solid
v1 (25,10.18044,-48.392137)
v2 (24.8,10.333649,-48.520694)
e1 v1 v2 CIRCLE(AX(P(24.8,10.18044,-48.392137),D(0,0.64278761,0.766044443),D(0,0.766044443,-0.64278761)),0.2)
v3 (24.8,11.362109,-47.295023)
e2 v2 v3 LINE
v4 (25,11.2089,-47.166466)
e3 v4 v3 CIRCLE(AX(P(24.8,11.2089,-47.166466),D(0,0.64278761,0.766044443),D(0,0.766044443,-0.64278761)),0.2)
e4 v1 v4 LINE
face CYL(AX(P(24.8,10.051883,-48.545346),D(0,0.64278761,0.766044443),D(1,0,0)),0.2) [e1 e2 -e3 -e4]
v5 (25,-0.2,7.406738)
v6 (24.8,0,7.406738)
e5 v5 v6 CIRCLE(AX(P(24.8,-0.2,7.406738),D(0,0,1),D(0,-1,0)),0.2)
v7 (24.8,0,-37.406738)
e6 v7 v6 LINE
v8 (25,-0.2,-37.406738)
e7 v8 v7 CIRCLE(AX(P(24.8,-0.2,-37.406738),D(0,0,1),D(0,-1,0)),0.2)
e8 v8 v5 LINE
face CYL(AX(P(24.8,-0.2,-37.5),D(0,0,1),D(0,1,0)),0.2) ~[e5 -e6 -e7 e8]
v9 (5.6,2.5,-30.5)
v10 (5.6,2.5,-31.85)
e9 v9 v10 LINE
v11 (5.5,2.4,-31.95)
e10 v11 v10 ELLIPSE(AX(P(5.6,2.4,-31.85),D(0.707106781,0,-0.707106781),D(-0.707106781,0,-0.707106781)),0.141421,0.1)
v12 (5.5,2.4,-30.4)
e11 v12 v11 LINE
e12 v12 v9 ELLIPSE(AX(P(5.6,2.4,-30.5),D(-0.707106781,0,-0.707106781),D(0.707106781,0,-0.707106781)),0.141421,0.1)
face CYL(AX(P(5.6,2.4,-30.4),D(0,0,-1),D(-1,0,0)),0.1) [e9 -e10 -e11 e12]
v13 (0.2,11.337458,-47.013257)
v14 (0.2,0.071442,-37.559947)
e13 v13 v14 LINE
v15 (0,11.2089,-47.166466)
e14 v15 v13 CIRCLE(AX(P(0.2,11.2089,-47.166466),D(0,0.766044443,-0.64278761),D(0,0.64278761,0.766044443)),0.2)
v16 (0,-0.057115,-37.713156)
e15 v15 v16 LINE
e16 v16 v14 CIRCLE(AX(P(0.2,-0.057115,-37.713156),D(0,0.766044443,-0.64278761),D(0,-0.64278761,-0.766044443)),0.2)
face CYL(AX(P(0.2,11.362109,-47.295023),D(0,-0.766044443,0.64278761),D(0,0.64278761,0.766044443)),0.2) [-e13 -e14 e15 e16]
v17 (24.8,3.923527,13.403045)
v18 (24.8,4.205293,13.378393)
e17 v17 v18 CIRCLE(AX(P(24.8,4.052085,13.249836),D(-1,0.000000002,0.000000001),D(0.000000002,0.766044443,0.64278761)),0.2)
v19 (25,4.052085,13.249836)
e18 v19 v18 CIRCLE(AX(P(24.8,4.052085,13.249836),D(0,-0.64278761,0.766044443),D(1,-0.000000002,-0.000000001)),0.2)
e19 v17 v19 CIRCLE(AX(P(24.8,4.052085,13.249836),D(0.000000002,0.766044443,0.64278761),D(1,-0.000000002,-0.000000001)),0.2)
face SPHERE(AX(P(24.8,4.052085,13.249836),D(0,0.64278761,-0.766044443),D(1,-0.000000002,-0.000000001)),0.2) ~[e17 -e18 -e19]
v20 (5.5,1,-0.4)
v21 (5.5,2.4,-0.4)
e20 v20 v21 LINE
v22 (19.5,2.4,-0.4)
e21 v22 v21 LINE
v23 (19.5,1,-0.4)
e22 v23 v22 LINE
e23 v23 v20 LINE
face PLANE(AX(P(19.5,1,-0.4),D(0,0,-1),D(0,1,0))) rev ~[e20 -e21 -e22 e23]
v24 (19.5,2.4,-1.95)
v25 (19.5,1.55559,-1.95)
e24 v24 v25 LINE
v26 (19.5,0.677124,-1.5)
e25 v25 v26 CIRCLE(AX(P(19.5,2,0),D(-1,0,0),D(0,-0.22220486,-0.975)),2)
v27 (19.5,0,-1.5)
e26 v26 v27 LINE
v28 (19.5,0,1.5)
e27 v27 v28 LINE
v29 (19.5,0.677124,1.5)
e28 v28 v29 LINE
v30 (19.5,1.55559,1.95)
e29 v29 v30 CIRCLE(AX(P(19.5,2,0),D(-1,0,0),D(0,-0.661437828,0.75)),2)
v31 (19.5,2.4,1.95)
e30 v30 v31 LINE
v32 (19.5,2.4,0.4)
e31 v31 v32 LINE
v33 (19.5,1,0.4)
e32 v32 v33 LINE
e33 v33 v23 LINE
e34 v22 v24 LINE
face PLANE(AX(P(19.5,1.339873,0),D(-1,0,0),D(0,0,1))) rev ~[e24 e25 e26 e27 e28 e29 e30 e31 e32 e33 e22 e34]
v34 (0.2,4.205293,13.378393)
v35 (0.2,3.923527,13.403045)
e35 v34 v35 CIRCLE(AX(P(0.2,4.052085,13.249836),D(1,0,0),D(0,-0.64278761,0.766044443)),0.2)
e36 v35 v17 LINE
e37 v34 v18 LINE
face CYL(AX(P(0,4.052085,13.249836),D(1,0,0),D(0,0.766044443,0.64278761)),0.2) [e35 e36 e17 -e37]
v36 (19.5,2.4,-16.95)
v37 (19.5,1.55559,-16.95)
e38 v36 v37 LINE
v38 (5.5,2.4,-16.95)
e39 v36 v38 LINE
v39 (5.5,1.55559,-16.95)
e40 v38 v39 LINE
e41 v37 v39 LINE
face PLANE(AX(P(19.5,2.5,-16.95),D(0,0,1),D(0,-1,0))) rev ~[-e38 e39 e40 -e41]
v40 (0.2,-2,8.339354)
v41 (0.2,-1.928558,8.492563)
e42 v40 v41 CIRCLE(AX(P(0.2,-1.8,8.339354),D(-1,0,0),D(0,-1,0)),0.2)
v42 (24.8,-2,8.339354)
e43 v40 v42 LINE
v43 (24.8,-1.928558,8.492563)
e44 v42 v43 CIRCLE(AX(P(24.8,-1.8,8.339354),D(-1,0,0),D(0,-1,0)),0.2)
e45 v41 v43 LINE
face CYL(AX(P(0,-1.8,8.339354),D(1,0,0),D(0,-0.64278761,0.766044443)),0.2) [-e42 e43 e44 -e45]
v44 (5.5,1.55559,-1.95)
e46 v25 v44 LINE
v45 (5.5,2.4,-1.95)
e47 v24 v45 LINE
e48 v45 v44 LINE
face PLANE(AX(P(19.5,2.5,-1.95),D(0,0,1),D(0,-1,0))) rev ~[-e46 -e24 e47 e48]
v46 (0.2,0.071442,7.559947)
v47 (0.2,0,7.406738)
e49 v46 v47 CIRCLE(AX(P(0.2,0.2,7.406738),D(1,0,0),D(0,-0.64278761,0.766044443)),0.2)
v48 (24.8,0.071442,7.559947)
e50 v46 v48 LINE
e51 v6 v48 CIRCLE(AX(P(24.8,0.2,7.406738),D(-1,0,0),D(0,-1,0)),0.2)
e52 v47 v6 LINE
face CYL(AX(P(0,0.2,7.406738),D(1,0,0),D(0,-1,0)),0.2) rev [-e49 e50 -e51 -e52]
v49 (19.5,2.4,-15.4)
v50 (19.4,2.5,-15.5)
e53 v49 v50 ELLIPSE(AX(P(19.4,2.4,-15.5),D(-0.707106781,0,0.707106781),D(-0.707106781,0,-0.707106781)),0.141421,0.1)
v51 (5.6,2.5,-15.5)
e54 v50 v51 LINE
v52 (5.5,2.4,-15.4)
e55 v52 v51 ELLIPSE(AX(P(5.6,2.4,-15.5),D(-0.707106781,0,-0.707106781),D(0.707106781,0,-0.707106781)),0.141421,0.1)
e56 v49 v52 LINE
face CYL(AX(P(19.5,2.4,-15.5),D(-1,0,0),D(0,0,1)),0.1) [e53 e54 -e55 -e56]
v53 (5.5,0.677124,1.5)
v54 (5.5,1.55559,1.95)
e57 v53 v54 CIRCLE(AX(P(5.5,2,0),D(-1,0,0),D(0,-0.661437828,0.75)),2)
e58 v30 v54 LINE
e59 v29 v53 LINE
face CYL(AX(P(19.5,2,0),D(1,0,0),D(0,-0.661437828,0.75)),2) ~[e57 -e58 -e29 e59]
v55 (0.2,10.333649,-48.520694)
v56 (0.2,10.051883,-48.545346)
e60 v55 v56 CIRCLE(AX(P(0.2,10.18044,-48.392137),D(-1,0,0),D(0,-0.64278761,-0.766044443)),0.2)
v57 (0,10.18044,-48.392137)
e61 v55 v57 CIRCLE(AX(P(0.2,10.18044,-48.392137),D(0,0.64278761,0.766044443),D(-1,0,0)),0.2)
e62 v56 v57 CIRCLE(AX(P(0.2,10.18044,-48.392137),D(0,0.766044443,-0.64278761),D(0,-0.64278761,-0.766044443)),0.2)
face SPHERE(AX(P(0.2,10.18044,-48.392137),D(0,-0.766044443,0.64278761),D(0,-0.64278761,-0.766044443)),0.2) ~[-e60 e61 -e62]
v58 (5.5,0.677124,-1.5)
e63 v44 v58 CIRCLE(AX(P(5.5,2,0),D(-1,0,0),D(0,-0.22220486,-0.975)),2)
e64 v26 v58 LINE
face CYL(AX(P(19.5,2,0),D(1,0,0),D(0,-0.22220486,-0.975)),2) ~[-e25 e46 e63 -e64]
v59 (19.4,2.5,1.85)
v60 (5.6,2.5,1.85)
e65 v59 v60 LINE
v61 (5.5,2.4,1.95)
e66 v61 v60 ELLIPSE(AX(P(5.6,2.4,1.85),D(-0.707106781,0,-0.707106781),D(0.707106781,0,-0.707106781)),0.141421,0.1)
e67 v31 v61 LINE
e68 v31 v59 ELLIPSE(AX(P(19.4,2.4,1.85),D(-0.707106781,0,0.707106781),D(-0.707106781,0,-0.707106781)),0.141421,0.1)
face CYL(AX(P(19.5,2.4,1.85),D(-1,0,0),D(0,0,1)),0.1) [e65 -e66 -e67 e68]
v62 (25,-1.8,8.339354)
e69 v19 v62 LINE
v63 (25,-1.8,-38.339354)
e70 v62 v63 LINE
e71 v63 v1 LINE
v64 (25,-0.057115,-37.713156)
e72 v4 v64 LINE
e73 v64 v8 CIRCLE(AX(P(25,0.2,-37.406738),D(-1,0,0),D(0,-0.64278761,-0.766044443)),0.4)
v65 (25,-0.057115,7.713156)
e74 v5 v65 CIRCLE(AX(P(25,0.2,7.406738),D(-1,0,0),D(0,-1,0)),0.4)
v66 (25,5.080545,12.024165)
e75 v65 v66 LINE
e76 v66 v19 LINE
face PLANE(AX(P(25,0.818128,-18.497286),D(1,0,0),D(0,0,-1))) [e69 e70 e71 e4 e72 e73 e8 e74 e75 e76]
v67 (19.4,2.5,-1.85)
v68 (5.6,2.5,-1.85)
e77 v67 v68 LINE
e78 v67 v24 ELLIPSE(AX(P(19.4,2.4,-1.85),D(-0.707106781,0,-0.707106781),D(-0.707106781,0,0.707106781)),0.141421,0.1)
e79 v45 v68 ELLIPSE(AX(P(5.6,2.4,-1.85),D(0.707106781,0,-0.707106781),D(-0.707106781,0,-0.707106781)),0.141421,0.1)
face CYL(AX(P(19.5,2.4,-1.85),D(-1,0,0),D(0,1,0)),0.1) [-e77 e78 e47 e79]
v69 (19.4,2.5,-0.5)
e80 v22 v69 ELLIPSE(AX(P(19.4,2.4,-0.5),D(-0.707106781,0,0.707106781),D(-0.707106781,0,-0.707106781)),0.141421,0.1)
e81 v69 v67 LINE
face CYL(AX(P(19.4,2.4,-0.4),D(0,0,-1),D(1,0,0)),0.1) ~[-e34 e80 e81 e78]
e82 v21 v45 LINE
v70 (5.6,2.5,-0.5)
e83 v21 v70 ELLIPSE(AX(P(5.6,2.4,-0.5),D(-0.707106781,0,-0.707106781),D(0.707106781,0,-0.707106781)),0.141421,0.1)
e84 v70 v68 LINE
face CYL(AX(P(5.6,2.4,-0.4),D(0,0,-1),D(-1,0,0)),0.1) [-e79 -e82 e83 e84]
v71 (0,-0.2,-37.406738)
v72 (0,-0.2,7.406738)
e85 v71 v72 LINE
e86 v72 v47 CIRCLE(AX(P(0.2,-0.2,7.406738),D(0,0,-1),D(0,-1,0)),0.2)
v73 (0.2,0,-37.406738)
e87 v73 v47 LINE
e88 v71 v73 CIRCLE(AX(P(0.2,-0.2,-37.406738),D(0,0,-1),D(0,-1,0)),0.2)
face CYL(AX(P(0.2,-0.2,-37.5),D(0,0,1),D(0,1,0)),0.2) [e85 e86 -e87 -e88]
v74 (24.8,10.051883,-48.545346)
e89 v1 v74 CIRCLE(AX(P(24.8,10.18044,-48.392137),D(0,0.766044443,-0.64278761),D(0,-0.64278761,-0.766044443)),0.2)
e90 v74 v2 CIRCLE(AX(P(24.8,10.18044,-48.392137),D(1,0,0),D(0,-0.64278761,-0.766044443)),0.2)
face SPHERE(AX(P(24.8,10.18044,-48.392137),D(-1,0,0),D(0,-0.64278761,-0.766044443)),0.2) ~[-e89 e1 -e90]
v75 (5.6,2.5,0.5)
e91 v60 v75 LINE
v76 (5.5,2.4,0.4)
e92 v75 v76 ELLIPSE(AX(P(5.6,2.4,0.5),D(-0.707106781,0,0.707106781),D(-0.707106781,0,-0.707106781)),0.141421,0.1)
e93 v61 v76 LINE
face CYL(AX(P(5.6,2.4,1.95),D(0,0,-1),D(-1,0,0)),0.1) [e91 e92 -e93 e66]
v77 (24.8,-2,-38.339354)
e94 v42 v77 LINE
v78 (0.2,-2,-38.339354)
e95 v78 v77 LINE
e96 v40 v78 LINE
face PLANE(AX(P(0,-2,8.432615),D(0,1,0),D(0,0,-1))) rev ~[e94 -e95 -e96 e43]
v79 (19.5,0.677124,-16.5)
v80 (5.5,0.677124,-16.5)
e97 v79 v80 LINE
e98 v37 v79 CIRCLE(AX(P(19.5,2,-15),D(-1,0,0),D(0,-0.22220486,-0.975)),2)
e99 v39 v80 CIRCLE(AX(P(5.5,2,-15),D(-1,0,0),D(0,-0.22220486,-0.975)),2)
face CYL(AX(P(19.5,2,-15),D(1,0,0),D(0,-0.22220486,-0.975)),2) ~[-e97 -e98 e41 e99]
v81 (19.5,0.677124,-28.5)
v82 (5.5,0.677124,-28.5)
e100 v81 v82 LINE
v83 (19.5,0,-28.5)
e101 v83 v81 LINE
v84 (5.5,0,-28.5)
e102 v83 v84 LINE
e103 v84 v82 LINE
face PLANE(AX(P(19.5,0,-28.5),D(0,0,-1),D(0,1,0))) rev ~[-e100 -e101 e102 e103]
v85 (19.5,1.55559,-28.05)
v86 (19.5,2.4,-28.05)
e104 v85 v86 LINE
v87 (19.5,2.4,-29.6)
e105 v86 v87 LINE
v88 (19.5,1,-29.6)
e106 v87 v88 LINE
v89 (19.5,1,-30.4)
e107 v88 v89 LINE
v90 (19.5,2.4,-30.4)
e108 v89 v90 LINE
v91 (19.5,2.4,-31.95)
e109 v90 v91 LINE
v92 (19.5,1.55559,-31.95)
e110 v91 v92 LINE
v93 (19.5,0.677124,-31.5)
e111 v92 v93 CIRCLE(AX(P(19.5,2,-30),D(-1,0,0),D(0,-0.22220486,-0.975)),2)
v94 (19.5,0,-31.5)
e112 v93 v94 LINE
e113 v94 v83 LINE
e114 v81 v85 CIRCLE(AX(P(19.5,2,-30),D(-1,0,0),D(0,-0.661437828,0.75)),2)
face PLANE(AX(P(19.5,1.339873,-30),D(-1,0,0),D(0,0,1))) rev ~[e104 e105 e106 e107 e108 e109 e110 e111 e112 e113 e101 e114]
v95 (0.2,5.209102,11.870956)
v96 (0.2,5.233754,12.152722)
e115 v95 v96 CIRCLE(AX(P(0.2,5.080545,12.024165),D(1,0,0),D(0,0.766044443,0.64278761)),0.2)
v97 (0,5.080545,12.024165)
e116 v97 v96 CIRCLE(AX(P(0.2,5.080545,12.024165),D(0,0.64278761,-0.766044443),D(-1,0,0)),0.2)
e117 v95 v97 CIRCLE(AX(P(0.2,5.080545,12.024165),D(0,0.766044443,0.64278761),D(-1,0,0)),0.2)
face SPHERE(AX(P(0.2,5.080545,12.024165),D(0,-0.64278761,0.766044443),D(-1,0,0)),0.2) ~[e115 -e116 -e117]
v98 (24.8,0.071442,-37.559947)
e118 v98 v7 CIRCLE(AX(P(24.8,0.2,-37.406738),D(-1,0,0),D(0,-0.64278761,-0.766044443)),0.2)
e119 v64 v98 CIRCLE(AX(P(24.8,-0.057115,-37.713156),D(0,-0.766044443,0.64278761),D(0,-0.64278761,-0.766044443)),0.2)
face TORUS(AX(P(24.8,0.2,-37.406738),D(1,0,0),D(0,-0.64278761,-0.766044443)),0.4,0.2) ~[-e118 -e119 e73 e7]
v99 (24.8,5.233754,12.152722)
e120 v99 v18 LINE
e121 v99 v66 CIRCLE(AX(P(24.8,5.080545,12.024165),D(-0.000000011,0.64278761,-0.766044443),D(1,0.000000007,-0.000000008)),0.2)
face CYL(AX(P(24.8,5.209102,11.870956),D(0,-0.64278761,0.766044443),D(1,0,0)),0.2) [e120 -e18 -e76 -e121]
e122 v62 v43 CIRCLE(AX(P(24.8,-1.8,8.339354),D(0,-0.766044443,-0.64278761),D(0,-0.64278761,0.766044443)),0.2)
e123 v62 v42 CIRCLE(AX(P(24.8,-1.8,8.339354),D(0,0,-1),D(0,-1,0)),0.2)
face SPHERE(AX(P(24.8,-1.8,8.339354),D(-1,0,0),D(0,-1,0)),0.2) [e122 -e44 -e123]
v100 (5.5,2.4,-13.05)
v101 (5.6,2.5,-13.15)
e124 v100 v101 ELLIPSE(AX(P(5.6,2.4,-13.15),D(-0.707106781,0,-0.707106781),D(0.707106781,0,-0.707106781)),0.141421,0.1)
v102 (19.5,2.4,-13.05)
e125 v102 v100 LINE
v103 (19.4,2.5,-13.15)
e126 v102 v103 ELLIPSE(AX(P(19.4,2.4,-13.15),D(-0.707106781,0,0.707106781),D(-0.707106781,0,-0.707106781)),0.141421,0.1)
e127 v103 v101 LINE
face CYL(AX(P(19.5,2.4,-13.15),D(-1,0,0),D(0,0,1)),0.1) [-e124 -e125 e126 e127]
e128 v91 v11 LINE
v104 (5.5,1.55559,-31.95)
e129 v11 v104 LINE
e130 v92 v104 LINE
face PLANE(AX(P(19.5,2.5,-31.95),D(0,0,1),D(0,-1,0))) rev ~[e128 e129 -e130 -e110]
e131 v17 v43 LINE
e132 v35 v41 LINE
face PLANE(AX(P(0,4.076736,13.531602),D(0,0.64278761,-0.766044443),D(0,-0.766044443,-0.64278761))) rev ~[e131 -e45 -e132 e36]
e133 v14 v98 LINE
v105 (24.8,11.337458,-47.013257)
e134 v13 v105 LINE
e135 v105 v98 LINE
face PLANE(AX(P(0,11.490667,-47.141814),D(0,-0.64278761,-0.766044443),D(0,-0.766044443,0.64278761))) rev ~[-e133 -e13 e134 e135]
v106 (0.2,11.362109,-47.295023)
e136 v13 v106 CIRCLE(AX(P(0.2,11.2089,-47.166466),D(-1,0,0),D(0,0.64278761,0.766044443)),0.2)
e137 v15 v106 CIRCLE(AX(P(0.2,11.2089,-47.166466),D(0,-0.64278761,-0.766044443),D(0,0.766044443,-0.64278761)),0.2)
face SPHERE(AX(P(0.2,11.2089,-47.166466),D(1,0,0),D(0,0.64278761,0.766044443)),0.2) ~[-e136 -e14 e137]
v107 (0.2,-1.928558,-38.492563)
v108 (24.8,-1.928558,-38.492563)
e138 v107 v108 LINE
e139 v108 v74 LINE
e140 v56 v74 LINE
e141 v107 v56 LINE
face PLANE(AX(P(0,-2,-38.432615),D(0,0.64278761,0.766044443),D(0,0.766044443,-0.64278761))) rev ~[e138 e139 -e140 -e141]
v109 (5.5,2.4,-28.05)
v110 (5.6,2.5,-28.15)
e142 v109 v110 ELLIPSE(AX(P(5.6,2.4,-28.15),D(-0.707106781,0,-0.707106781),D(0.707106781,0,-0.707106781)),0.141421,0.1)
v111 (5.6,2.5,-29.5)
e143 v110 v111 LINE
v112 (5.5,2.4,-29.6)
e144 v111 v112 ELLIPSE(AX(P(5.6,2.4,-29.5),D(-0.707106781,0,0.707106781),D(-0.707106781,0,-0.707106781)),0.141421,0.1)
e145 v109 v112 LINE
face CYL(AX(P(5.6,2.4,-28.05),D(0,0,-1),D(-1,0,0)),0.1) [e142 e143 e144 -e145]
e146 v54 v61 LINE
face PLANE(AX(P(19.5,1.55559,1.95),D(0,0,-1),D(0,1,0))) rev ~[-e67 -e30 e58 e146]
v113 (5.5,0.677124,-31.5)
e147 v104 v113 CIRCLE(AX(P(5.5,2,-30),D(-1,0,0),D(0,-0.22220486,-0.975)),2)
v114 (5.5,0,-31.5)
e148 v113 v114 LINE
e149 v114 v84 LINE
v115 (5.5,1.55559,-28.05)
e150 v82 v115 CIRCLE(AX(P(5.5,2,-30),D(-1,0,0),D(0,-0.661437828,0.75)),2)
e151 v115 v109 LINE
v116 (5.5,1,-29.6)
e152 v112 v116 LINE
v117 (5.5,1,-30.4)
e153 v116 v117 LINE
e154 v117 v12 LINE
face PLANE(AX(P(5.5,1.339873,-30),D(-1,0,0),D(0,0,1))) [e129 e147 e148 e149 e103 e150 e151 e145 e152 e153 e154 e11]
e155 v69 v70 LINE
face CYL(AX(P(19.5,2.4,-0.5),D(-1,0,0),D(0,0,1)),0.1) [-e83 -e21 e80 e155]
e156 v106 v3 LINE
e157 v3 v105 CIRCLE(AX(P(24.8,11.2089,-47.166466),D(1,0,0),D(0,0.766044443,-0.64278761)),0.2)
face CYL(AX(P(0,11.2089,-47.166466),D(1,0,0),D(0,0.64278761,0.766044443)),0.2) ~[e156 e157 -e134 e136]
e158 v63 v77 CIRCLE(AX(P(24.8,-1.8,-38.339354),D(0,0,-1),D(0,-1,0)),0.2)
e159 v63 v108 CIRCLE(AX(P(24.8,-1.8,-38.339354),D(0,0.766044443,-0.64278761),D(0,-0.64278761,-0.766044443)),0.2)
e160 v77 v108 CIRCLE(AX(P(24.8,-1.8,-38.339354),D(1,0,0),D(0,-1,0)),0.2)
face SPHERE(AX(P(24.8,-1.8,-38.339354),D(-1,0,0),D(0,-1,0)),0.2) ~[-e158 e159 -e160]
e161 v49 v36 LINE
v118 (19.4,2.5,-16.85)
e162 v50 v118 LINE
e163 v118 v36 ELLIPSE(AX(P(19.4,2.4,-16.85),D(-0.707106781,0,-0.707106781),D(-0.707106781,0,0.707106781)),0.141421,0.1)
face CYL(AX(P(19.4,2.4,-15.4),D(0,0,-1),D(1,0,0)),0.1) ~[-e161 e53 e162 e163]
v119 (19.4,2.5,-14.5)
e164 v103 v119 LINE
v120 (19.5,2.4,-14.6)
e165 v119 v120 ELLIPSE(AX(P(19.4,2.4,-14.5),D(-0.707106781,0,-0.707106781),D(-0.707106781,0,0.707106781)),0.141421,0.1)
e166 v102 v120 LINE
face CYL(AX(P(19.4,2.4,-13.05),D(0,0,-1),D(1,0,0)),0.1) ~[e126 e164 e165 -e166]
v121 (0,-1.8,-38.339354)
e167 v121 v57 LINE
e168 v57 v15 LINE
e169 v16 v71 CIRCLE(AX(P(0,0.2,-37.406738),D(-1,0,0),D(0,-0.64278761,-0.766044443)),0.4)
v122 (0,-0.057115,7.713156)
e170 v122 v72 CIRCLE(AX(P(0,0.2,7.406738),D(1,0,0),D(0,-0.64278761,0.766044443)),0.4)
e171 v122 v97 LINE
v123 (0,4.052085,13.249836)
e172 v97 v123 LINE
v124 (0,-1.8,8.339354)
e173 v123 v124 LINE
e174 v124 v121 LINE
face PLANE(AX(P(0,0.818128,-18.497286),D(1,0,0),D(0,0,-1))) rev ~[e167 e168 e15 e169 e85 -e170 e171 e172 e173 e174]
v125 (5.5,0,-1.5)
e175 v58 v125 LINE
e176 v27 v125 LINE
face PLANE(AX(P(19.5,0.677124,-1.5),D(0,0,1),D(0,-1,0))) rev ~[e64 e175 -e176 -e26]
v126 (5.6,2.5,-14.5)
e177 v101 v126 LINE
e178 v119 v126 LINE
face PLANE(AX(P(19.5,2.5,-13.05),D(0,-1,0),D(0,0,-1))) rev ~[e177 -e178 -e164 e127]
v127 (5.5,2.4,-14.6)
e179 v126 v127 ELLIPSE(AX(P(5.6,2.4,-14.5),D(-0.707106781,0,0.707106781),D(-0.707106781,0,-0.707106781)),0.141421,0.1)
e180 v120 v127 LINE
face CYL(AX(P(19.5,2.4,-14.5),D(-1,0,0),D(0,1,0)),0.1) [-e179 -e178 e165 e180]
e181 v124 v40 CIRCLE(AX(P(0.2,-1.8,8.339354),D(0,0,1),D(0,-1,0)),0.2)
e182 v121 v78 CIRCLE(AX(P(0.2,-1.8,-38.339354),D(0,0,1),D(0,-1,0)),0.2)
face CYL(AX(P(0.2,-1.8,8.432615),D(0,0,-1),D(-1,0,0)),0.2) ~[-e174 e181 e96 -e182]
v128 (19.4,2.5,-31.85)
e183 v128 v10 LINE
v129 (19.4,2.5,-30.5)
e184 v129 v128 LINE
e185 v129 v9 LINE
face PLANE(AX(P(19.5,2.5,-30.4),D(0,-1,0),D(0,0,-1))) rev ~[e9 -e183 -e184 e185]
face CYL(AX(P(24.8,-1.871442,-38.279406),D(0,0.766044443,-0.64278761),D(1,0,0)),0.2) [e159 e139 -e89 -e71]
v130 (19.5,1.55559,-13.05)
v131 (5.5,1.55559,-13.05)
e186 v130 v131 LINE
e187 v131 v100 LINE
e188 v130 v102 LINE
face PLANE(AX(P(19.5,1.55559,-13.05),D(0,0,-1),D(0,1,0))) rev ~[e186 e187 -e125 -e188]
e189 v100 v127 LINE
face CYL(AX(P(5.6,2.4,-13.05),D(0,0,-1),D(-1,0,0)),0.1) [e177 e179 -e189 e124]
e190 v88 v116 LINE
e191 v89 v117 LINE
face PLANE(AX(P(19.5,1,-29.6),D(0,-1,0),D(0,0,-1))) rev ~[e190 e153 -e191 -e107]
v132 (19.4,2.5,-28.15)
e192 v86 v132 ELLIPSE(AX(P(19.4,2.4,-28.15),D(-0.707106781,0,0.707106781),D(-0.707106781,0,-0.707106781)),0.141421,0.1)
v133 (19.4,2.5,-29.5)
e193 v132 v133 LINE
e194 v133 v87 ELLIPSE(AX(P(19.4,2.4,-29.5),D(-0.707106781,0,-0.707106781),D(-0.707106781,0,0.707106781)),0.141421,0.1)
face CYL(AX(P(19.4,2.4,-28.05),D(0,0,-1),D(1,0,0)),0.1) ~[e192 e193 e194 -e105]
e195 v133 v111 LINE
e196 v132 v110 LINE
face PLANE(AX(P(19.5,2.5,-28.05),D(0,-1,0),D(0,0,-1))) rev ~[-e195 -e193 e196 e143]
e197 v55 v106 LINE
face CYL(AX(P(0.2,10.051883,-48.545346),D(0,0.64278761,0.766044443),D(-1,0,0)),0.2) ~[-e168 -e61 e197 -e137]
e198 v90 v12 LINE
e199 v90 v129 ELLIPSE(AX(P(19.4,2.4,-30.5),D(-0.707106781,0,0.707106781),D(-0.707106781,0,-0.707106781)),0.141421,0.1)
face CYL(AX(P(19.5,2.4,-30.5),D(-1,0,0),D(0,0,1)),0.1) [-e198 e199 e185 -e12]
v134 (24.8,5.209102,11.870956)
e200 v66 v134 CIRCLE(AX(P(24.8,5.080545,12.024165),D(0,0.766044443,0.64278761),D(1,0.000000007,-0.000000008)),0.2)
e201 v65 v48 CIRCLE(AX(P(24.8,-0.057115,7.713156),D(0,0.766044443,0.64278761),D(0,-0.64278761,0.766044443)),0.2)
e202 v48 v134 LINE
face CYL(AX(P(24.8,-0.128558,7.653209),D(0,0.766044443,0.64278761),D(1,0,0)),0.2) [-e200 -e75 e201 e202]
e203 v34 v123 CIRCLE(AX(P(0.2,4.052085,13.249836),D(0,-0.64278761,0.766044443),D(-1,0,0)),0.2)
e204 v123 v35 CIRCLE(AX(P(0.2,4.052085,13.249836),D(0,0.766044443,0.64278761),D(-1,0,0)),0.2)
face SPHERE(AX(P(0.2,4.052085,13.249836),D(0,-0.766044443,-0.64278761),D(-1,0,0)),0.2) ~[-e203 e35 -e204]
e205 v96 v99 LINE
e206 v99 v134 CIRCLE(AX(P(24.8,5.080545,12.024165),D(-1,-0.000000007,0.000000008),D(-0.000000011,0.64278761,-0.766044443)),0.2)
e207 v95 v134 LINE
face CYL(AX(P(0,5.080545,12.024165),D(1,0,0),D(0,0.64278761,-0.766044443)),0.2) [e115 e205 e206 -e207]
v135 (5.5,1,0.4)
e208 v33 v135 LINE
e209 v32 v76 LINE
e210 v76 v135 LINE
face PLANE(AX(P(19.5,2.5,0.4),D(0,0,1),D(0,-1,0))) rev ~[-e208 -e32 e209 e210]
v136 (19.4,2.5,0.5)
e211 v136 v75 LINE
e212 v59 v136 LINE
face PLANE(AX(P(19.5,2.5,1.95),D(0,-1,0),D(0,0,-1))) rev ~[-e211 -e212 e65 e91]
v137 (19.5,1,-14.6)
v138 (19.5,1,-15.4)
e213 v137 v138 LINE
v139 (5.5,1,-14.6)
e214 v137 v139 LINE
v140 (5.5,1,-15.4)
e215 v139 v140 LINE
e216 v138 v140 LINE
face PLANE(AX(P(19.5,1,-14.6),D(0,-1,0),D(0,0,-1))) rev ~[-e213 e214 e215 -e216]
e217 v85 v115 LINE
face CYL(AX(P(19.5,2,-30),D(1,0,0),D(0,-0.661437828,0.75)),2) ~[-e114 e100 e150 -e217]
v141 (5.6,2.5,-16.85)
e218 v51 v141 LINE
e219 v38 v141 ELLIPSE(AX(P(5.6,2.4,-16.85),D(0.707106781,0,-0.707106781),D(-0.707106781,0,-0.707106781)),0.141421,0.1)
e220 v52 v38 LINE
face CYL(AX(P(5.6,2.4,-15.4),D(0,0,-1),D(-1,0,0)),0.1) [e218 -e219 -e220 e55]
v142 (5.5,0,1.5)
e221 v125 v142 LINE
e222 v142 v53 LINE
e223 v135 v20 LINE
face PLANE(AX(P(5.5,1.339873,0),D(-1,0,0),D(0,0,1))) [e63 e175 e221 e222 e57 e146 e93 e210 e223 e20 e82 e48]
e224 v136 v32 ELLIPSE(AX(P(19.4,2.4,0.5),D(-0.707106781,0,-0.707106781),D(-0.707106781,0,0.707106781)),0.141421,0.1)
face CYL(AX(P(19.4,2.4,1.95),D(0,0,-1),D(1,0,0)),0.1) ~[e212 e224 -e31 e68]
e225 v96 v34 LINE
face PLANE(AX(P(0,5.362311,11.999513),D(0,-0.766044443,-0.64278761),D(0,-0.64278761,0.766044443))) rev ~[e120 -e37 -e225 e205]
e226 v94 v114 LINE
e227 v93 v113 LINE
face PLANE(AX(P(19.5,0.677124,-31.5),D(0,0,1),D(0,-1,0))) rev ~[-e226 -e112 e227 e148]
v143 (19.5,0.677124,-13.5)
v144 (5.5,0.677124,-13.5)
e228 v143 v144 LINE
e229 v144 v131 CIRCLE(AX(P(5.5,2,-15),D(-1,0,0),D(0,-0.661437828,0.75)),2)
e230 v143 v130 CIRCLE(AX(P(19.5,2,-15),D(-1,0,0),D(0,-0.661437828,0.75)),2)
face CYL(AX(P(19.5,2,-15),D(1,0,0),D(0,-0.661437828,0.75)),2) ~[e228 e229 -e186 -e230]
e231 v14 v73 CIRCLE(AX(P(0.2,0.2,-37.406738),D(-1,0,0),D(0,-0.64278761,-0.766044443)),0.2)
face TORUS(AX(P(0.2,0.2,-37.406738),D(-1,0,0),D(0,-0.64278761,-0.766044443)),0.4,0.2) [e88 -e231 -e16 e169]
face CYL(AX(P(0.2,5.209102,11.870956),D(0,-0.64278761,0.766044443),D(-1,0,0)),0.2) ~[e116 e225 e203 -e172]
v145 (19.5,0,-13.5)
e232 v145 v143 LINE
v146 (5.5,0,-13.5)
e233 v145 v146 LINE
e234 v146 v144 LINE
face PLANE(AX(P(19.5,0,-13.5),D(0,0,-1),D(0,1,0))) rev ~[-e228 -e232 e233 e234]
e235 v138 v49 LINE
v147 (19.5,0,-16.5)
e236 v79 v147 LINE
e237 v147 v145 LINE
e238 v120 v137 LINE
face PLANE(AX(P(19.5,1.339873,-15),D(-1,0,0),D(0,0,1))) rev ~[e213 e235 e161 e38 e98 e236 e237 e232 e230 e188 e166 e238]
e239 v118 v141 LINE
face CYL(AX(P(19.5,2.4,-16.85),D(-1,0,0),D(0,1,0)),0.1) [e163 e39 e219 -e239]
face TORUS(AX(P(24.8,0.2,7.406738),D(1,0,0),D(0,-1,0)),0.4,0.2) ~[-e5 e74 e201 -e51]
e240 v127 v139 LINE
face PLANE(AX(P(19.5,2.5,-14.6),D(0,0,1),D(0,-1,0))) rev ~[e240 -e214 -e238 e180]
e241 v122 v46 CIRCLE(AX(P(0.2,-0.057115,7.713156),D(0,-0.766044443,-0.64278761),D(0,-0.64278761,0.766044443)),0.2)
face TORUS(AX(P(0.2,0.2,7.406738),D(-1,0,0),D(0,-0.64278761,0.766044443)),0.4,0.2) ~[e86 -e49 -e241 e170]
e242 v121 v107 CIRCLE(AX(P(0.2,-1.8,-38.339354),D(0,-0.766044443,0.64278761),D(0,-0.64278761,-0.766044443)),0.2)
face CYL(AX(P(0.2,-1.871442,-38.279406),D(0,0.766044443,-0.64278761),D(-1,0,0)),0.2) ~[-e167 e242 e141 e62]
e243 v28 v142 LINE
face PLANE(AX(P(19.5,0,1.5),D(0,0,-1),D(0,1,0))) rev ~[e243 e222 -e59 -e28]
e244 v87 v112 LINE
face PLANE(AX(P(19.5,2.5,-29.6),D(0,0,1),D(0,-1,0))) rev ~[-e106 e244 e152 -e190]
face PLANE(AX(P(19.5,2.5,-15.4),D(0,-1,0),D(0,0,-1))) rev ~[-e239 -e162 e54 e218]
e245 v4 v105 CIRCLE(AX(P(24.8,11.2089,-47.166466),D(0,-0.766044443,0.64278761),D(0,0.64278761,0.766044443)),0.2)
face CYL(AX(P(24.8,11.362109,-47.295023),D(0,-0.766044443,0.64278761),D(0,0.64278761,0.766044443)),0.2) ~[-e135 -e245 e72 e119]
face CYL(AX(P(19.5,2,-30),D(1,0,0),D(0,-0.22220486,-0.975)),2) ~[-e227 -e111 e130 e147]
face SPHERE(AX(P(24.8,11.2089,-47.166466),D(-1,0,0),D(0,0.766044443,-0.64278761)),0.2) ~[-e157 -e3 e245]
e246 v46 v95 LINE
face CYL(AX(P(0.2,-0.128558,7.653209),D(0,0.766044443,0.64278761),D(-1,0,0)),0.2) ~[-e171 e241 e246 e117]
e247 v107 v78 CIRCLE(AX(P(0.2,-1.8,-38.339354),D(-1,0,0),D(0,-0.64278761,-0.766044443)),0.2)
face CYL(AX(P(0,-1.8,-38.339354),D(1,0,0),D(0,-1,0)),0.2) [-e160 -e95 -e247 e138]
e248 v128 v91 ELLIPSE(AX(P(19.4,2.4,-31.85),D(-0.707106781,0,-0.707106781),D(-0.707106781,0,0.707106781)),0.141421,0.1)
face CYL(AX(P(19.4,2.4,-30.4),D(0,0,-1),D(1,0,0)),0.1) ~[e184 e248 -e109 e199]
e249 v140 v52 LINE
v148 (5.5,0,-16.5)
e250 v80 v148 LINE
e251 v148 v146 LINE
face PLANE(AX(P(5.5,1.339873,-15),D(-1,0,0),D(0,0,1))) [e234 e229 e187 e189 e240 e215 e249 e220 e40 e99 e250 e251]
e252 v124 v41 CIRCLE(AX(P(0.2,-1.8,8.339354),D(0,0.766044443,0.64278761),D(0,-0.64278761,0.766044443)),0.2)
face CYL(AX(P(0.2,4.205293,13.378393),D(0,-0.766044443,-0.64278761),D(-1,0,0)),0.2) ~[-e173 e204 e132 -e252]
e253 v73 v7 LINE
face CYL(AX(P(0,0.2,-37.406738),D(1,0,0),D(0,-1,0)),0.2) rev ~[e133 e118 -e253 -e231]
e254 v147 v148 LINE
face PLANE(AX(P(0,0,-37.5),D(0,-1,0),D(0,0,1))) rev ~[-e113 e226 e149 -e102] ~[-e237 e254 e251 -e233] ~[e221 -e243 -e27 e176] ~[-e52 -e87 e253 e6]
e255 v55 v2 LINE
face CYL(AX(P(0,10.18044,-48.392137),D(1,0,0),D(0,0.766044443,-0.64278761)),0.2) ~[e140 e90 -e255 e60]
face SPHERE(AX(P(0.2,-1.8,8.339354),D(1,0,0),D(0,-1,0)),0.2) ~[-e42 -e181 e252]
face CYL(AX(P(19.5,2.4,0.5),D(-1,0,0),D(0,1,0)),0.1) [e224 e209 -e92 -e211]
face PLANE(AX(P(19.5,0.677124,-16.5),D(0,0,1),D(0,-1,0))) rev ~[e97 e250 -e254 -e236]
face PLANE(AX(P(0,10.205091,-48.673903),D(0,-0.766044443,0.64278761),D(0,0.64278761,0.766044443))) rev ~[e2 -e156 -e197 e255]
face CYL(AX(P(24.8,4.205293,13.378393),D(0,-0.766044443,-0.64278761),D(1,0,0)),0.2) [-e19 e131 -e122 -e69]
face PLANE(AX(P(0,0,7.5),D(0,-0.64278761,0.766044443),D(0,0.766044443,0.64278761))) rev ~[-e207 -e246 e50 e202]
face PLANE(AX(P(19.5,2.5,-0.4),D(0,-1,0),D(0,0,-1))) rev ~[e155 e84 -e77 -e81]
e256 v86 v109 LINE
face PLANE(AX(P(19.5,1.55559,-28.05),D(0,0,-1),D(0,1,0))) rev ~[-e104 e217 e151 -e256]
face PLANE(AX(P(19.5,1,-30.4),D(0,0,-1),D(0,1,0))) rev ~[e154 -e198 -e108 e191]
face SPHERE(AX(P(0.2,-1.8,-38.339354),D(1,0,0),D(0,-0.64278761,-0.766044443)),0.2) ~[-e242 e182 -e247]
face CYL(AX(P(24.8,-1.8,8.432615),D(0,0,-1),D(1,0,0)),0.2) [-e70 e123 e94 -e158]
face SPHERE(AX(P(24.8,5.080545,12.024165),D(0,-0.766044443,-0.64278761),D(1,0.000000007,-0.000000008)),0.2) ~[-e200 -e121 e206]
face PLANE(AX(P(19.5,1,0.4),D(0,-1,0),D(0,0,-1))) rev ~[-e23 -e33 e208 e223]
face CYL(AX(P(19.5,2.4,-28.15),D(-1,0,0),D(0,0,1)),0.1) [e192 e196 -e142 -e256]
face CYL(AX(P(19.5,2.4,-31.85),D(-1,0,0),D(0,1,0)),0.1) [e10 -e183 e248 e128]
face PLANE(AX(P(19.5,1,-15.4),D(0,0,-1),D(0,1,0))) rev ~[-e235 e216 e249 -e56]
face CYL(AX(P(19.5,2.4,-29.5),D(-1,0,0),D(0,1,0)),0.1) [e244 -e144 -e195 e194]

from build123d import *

# Parameters (mm, degrees)
EXTRUDE_1_DEPTH        = 25
EXTRUDE_START          = -5.5
EXTRUDE_2_DEPTH        = 14
PATTERN_LINEAR_1_COUNT = 3
PATTERN_LINEAR_1_PITCH = 15
FILLET_1_R             = 0.1
FILLET_2_R             = 0.2


with BuildPart() as part:
    # 草图1 → 凸台-拉伸1 (new body)
    with BuildSketch(Plane(origin=(0, 0, 0), x_dir=(0, 0, -1), z_dir=(1, 0, 0))):
        Polygon((0, 0), (-7.5, 0), (-11.999513268, 5.362311102), (-13.531602154, 4.076735882), (-8.432615316, -2), (0, -2), (38.432615316, -2), (48.673903032, 10.205091427), (47.141814145, 11.490666647), (37.5, 0), align=None)
    extrude(amount=EXTRUDE_1_DEPTH)

    # 草图2 → 凸台-拉伸2 (add)
    with BuildSketch(Plane(origin=(25, 0, 0), x_dir=(0, 0, -1), z_dir=(1, 0, 0)).offset(EXTRUDE_START)):
        with BuildLine():
            Line((1.5, 0), (-1.5, 0))
            Line((-1.5, 0), (-1.5, 0.677124344))
            ThreePointArc((-1.5, 0.677124344), (-1.780042303, 1.088161527), (-1.95, 1.555590279))
            Line((-1.95, 1.555590279), (-1.95, 2.5))
            Line((-1.95, 2.5), (-0.4, 2.5))
            Line((-0.4, 2.5), (-0.4, 1))
            Line((-0.4, 1), (0.4, 1))
            Line((0.4, 1), (0.4, 2.5))
            Line((0.4, 2.5), (1.95, 2.5))
            Line((1.95, 2.5), (1.95, 1.555590279))
            ThreePointArc((1.95, 1.555590279), (1.780042303, 1.088161527), (1.5, 0.677124344))
            Line((1.5, 0.677124344), (1.5, 0))
        make_face()
    extrude_2 = extrude(amount=-EXTRUDE_2_DEPTH)

    # 阵列(线性)1: 凸台-拉伸2 ×3
    with Locations(*[(0, 0, -i * PATTERN_LINEAR_1_PITCH) for i in range(1, PATTERN_LINEAR_1_COUNT)]):
        add(extrude_2)

    # 圆角1
    fillet_1_edges = [part.edges().sort_by_distance(p)[0] for p in [
        (12.5, 2.5, 0.4),
        (5.5, 2.5, -1.175),
        (12.5, 2.5, -0.4),
        (12.5, 2.5, -1.95),
        (5.5, 2.5, 1.175),
        (12.5, 2.5, 1.95),
        (19.5, 2.5, 1.175),
        (19.5, 2.5, -1.175),
        (12.5, 2.5, -14.6),
        (5.5, 2.5, -16.175),
        (12.5, 2.5, -15.4),
        (12.5, 2.5, -16.95),
        (5.5, 2.5, -13.825),
        (12.5, 2.5, -13.05),
        (19.5, 2.5, -13.825),
        (19.5, 2.5, -16.175),
        (12.5, 2.5, -29.6),
        (5.5, 2.5, -31.175),
        (12.5, 2.5, -30.4),
        (12.5, 2.5, -31.95),
        (5.5, 2.5, -28.825),
        (12.5, 2.5, -28.05),
        (19.5, 2.5, -28.825),
        (19.5, 2.5, -31.175),
    ]]
    fillet(fillet_1_edges, radius=FILLET_1_R)

    # 圆角2
    fillet_2_edges = [part.edges().sort_by_distance(p)[0] for p in [
        (25, 2.681155551, 9.749756634),
        (0, 4.102545714, -43.553259174),
        (0, -2, -15),
        (0, 1.038367941, 10.982108735),
        (0, 4.719523492, 12.765557711),
        (0, 2.681155551, 9.749756634),
        (0, 0, -15),
        (25, 4.719523492, 12.765557711),
        (25, 1.038367941, 10.982108735),
        (12.5, 0, -37.5),
        (12.5, 11.490666647, -47.141814145),
        (12.5, 10.205091427, -48.673903032),
        (12.5, -2, -38.432615316),
        (12.5, -2, 8.432615316),
        (12.5, 4.076735882, 13.531602154),
        (12.5, 5.362311102, 11.999513268),
        (12.5, 0, 7.5),
        (25, -2, -15),
        (25, 4.102545714, -43.553259174),
        (25, 10.847879037, -47.907858588),
        (25, 5.745333323, -42.320907073),
        (25, 0, -15),
        (0, 5.745333323, -42.320907073),
        (0, 10.847879037, -47.907858588),
    ]]
    fillet(fillet_2_edges, radius=FILLET_2_R)


solid = part.part
